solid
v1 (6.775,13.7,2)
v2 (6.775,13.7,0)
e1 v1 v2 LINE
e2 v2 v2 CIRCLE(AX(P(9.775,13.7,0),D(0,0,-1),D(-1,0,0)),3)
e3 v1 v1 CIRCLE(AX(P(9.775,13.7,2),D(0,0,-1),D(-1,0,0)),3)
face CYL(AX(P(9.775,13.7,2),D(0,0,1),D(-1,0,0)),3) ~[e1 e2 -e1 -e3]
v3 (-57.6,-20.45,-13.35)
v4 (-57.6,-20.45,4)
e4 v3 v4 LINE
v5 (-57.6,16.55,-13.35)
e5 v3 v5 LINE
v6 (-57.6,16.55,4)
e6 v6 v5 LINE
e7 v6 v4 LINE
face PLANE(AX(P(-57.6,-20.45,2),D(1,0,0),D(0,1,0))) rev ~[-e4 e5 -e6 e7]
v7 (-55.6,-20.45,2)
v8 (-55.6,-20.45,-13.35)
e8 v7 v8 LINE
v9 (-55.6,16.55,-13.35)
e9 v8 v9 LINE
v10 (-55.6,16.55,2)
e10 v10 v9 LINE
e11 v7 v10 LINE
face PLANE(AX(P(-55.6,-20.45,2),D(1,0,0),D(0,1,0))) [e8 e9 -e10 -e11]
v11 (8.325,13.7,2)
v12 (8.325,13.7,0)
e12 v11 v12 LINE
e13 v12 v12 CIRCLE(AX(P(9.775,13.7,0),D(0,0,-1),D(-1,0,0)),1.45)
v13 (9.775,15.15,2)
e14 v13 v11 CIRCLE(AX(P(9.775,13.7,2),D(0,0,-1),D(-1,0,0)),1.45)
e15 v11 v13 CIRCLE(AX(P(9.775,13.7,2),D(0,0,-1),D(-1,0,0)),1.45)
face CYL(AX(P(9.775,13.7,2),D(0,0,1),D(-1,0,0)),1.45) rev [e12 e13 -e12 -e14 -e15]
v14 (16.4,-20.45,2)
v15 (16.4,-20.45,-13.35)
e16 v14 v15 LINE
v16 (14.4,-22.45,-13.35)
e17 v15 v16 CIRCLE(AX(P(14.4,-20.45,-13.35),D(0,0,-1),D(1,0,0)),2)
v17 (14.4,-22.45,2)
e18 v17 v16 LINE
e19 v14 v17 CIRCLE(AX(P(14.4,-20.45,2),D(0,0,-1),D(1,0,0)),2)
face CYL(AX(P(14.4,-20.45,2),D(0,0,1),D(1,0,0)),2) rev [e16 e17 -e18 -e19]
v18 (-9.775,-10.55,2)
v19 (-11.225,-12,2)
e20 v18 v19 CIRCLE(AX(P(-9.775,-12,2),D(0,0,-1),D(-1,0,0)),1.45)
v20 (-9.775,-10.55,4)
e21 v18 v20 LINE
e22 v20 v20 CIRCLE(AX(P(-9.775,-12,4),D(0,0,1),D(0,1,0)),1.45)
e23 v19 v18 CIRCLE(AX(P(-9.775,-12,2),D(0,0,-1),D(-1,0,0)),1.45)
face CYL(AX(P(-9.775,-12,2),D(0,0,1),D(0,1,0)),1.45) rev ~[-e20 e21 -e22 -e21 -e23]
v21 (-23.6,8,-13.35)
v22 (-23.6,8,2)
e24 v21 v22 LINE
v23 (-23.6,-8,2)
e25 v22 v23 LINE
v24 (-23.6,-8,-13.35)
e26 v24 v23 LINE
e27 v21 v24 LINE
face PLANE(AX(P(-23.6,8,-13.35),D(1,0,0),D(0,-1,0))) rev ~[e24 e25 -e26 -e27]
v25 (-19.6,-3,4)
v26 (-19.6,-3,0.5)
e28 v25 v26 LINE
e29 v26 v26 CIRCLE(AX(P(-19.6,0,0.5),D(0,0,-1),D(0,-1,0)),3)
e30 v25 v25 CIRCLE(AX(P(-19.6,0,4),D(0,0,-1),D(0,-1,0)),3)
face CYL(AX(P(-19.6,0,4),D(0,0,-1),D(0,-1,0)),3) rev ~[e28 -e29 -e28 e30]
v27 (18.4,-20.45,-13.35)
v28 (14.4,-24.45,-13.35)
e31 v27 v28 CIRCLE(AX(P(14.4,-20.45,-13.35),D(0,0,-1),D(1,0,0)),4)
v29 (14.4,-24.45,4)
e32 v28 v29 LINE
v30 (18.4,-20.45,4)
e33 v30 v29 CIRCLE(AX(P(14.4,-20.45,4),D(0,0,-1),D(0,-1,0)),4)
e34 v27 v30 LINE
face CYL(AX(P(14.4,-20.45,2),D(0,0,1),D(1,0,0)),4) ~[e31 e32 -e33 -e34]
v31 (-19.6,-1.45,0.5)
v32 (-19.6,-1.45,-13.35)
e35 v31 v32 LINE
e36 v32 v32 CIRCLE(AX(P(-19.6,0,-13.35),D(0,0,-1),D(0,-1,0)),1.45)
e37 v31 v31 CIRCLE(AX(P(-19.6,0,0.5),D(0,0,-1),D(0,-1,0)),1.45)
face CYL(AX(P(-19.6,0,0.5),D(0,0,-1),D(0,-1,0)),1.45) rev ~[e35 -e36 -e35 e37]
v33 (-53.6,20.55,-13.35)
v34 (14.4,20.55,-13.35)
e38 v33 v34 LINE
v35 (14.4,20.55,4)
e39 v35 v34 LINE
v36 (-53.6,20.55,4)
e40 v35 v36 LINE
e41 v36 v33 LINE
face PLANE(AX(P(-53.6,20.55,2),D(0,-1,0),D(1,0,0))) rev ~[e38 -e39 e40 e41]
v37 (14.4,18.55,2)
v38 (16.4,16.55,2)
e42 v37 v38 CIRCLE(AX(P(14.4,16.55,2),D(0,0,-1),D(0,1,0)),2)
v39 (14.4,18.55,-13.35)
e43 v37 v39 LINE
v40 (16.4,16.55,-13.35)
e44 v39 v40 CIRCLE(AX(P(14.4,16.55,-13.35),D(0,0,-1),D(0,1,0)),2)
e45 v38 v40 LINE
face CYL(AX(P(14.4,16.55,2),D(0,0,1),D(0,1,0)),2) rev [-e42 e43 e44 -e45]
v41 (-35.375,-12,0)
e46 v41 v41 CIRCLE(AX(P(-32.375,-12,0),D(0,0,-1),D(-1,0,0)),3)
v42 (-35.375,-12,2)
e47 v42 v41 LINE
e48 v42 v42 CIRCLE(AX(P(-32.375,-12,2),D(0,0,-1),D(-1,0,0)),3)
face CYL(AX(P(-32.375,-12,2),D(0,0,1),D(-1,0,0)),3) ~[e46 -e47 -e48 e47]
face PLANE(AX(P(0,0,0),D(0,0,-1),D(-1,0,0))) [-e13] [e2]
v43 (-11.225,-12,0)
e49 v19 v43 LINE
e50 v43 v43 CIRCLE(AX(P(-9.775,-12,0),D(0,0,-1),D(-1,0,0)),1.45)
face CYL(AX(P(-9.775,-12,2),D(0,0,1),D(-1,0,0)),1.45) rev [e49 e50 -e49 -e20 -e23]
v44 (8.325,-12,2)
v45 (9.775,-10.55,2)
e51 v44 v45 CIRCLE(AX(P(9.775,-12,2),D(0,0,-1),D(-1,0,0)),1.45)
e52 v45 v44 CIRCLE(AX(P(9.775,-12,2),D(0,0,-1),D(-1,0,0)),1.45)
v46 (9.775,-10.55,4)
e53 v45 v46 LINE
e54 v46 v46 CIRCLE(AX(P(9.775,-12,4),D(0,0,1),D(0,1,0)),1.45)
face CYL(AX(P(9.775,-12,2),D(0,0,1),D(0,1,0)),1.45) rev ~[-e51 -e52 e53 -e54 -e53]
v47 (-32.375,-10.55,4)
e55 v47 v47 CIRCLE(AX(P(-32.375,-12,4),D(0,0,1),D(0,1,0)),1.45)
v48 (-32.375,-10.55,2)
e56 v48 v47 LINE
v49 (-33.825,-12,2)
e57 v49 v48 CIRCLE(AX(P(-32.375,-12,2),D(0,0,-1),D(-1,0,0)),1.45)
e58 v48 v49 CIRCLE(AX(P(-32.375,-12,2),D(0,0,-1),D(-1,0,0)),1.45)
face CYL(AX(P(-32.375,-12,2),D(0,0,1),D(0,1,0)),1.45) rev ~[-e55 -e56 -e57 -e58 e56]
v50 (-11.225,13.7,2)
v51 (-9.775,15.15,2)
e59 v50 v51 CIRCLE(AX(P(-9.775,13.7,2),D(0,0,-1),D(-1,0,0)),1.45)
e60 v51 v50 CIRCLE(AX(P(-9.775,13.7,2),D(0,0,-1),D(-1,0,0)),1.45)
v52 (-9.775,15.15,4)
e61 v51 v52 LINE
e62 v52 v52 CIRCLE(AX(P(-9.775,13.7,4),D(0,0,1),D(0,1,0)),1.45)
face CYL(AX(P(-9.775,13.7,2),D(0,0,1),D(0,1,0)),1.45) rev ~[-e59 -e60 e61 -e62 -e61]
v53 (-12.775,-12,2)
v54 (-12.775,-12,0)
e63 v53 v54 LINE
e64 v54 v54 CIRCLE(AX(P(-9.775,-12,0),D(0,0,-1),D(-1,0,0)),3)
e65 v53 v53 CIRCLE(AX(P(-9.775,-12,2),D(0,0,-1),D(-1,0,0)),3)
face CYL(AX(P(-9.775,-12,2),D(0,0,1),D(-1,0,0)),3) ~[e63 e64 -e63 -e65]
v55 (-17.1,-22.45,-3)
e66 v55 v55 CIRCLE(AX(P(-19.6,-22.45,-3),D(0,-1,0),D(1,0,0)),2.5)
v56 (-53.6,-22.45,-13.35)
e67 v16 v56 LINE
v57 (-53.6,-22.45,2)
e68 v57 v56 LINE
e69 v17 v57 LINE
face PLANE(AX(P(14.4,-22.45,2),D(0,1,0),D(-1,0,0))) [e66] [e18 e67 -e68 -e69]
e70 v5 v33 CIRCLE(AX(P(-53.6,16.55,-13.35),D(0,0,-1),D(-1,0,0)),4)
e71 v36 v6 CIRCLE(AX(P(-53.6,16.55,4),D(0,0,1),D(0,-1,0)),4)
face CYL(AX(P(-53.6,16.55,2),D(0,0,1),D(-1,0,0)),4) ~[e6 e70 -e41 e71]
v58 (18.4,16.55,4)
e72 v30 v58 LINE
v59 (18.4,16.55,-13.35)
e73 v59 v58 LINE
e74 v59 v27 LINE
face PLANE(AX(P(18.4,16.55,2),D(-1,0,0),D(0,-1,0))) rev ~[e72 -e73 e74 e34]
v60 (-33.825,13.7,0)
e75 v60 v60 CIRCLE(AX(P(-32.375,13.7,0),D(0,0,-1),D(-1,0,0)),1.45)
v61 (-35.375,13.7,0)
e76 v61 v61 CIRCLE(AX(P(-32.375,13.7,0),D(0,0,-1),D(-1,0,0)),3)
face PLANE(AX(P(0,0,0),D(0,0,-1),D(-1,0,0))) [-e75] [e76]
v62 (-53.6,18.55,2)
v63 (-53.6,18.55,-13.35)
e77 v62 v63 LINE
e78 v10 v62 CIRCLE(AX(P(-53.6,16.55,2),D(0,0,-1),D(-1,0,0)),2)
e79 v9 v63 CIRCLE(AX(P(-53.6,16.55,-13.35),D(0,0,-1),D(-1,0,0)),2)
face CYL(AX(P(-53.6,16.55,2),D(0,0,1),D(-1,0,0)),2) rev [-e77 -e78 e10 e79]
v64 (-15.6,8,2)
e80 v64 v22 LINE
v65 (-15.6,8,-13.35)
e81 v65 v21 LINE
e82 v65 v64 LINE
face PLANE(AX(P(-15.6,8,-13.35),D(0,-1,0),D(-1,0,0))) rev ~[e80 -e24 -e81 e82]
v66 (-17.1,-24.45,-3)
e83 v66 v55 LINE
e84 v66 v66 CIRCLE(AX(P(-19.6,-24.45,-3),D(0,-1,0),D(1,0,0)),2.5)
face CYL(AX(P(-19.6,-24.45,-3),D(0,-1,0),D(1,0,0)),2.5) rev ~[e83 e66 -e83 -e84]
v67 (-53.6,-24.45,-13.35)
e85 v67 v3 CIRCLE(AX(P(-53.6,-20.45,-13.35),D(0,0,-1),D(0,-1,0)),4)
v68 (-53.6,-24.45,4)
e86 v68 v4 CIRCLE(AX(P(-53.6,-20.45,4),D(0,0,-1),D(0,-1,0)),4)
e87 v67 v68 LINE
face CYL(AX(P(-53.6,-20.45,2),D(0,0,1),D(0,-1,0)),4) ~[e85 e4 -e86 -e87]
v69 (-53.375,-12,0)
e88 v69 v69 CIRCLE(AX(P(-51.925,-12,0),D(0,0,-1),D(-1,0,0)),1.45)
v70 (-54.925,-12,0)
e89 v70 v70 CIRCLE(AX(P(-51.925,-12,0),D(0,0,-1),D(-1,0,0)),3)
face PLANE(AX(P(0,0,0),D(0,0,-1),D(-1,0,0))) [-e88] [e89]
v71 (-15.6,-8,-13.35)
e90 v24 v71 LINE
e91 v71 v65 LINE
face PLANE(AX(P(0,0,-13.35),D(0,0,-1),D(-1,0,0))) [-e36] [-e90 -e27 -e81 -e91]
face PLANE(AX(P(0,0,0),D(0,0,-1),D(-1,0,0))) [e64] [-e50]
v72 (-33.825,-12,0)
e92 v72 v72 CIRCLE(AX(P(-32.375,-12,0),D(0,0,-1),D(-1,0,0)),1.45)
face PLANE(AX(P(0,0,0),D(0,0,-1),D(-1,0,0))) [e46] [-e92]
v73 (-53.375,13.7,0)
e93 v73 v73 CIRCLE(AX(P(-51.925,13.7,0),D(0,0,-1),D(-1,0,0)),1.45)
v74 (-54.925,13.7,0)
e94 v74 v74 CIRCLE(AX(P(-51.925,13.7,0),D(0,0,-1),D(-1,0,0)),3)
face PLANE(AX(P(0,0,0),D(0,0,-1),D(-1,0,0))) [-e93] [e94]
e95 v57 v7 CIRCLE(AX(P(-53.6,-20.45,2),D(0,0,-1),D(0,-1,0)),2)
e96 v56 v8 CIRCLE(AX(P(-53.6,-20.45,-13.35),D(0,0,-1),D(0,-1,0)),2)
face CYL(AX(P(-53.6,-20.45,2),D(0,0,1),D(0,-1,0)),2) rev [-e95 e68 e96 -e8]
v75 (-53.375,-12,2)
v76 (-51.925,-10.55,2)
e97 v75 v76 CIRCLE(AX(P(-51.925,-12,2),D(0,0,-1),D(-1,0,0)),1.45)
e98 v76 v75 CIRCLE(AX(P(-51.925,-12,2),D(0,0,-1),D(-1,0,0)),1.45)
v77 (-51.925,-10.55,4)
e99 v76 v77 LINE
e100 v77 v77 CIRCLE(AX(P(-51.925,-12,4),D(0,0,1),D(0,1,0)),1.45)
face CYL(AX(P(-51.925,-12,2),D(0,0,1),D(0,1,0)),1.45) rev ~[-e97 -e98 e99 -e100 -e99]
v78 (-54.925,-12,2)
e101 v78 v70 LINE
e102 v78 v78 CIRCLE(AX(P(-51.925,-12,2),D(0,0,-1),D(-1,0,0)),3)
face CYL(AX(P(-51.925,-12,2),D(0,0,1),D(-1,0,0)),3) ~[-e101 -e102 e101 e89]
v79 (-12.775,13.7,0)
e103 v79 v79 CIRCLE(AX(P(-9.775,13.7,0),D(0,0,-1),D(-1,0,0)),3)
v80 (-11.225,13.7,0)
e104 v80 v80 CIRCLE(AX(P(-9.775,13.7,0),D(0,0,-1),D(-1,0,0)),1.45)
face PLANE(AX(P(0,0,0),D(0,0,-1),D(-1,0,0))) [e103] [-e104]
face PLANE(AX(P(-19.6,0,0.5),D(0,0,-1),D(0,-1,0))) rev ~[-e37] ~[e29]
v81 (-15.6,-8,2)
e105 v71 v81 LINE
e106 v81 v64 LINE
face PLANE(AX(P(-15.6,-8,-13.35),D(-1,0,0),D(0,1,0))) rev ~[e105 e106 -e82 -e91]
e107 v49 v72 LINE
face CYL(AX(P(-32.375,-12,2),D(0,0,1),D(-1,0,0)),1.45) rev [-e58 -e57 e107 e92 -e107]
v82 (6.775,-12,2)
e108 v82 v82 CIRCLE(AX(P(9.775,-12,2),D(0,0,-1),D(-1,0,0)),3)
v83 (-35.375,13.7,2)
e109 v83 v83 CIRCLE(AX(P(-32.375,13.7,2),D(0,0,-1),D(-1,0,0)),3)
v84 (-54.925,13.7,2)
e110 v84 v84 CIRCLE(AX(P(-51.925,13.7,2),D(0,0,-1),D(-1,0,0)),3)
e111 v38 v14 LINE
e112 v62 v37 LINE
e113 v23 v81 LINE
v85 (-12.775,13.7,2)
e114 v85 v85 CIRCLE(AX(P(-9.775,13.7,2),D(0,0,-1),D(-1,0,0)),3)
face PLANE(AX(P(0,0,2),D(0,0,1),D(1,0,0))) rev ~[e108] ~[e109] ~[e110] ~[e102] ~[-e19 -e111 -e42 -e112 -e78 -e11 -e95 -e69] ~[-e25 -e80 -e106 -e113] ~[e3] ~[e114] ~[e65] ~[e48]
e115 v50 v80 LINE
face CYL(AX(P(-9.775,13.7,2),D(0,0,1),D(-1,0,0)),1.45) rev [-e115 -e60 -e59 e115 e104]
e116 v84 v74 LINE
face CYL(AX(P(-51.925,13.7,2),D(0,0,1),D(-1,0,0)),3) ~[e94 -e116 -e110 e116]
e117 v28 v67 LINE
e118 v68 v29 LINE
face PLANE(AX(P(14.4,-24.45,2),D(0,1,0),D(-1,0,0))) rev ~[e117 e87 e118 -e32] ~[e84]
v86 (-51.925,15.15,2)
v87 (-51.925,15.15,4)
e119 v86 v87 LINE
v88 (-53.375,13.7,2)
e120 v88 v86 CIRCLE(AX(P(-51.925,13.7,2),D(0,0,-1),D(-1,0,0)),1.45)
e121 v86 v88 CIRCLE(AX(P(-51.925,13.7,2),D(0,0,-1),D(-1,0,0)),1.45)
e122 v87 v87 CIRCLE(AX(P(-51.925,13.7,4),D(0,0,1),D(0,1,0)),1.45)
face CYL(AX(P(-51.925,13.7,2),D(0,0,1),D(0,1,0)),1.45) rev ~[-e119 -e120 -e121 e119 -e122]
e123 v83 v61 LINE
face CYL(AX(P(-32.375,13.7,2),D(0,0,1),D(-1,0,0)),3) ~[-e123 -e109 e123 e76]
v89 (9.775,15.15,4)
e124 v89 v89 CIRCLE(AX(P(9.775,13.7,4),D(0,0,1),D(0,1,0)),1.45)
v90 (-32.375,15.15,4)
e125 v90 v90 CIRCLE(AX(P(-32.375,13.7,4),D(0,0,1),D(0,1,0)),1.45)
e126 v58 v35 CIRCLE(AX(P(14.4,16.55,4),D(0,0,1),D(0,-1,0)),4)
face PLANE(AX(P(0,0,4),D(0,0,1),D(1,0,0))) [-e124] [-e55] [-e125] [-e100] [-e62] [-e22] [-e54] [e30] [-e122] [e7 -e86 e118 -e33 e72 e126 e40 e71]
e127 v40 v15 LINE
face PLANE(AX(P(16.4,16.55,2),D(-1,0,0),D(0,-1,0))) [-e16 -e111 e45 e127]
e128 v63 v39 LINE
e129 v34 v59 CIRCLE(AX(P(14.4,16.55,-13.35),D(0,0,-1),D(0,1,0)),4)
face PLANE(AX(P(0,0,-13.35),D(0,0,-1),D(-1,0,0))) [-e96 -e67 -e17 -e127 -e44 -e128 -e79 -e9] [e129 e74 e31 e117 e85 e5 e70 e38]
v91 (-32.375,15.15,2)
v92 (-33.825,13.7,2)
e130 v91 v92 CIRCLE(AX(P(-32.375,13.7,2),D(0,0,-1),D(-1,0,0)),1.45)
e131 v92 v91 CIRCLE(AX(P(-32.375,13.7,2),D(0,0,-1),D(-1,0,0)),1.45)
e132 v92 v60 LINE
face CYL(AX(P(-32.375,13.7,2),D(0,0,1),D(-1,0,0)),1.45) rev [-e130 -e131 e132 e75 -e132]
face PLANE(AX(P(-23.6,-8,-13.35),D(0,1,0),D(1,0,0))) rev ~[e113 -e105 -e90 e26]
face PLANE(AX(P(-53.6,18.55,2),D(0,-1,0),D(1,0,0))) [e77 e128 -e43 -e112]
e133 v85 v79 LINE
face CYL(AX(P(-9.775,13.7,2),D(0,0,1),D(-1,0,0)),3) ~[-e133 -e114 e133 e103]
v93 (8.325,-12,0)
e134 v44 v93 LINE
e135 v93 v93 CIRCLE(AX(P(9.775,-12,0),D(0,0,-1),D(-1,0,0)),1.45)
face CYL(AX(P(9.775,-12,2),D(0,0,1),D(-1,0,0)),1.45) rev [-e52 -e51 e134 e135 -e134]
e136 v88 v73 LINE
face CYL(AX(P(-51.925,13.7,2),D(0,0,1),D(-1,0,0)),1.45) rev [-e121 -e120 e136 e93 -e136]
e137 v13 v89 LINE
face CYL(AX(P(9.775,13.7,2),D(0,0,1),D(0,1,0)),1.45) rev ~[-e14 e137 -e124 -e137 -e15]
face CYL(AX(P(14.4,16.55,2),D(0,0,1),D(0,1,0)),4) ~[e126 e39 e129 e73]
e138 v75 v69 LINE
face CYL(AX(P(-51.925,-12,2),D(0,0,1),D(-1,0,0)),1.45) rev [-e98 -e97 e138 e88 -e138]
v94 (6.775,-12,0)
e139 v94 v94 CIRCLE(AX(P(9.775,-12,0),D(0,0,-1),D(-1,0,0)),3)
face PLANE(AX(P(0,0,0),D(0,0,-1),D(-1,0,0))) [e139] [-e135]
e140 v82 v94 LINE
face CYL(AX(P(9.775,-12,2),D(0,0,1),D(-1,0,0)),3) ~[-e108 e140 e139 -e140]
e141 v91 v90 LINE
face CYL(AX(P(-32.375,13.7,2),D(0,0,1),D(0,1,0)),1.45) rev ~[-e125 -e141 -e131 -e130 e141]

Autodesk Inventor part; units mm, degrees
ref_plane "YZ Plane" through (0, 0, 0) normal (1, 0, 0) x (0, 1, 0)
ref_plane "XZ Plane" through (0, 0, 0) normal (0, 1, 0) x (-1, 0, 0)
ref_plane "Work Plane1" through (0, 0, 0) normal (0, 0, 1) x (1, 0, 0)
ref_plane "Work Plane2" through (0, 0, 2) normal (0, 0, 1) x (1, 0, 0)
sketch "Sketch1" plane through (0, 0, 2) normal (0, 0, 1) x (1, 0, 0)
  circle A0 centre (9.775, 13.7) radius 1.45 construction
  circle A1 centre (-9.775, 13.7) radius 1.45 construction
  circle A2 centre (9.775, -12) radius 1.45 construction
  circle A3 centre (-9.775, -12) radius 1.45 construction
  line L0 (-13.075, -17) -> (13.075, -17) construction
  line L1 (13.075, -17) -> (13.075, 17) construction
  line L2 (13.075, 17) -> (-13.075, 17) construction
  line L3 (-13.075, 17) -> (-13.075, -17) construction
  circle A4 centre (-32.375, 13.7) radius 1.45 construction
  circle A5 centre (-51.925, 13.7) radius 1.45 construction
  circle A6 centre (-32.375, -12) radius 1.45 construction
  circle A7 centre (-51.925, -12) radius 1.45 construction
  line L4 (-55.225, -17) -> (-29.075, -17) construction
  line L5 (-29.075, -17) -> (-29.075, 17) construction
  line L6 (-29.075, 17) -> (-55.225, 17) construction
  line L7 (-55.225, 17) -> (-55.225, -17) construction
  line L8 (18.4, -24.45) -> (-57.6, -24.45) construction
  line L9 (-57.6, -24.45) -> (-57.6, 20.55) construction
  line L10 (-57.6, 20.55) -> (18.4, 20.55) construction
  line L11 (18.4, 20.55) -> (18.4, -24.45) construction
  line L12 (18.4, -24.45) -> (-57.6, 20.55) construction
  line L13 (-57.6, -24.45) -> (18.4, 20.55) construction
  line L14 (18.4, 20.55) -> (-57.6, 20.55)
  line L15 (-57.6, 20.55) -> (-57.6, -24.45)
  line L16 (-57.6, -24.45) -> (18.4, -24.45)
  line L17 (18.4, -24.45) -> (18.4, 20.55)
  circle A8 centre (1.475, 0.05) radius 3.625 projected
  circle A9 centre (-40.675, 0.05) radius 3.625 projected
  point P0 (0, 0)
  point P1 (-19.6, -1.95)
  dimension "d0" = 76
  dimension "d1" = 45
  dimension "d2" = 42.15
  dimension "d3" = 21.075
  dimension "d24" = 2
extrude "Extrusion1" add sketch "Sketch1" along normal blind 2 contours L17 L16 L15 L14 | A8 | A9
sketch "Sketch2" plane through (0, 0, 2) normal (0, 0, -1) x (-1, 0, 0)
  line L0 (48.625, -15.2642) -> (36.125, -15.2642) projected
  line L1 (36.125, -15.2642) -> (36.125, -13.7335) projected
  line L2 (36.125, -13.7335) -> (48.625, -13.7335) projected
  line L3 (48.625, -13.7335) -> (48.625, -15.2642) projected
  line L4 (55.225, -17) -> (29.075, -17) projected
  line L5 (55.225, 17) -> (55.225, -17) projected
  line L6 (29.075, 17) -> (55.225, 17) projected
  line L7 (29.075, -17) -> (29.075, 17) projected
  circle A0 centre (51.925, -12) radius 1.45 projected
  circle A1 centre (32.375, -12) radius 1.45 projected
  circle A2 centre (51.925, 13.7) radius 1.45 projected
  circle A3 centre (32.375, 13.7) radius 1.45 projected
  line L8 (48.025, 8.1) -> (33.325, 8.1) projected
  arc A4 (48.725, 7.4) -> (48.025, 8.1) centre (48.025, 7.4) ccw projected
  line L9 (48.725, 3.55) -> (48.725, 7.4) projected
  line L10 (47.725, 3.55) -> (48.725, 3.55) projected
  line L11 (47.725, -3.45) -> (47.725, 3.55) projected
  line L12 (47.725, -3.45) -> (48.725, -3.45) projected
  line L13 (48.725, -7.3) -> (48.725, -3.45) projected
  arc A5 (48.025, -8) -> (48.725, -7.3) centre (48.025, -7.3) ccw projected
  line L14 (33.325, -8) -> (48.025, -8) projected
  arc A6 (32.625, -7.3) -> (33.325, -8) centre (33.325, -7.3) ccw projected
  line L15 (32.625, 7.4) -> (32.625, -7.3) projected
  arc A7 (33.325, 8.1) -> (32.625, 7.4) centre (33.325, 7.4) ccw projected
  circle A8 centre (51.925, 13.7) radius 3
  circle A9 centre (51.925, -12) radius 3
  circle A10 centre (32.375, -12) radius 3
  circle A11 centre (32.375, 13.7) radius 3
  line L16 (6.475, -15.2642) -> (-6.025, -15.2642) projected
  line L17 (-6.025, -15.2642) -> (-6.025, -13.7335) projected
  line L18 (-6.025, -13.7335) -> (6.475, -13.7335) projected
  line L19 (6.475, -13.7335) -> (6.475, -15.2642) projected
  line L20 (13.075, -17) -> (-13.075, -17) projected
  line L21 (13.075, 17) -> (13.075, -17) projected
  line L22 (-13.075, 17) -> (13.075, 17) projected
  line L23 (-13.075, -17) -> (-13.075, 17) projected
  circle A12 centre (9.775, -12) radius 1.45 projected
  circle A13 centre (-9.775, -12) radius 1.45 projected
  circle A14 centre (9.775, 13.7) radius 1.45 projected
  circle A15 centre (-9.775, 13.7) radius 1.45 projected
  line L24 (5.875, 8.1) -> (-8.825, 8.1) projected
  arc A16 (6.575, 7.4) -> (5.875, 8.1) centre (5.875, 7.4) ccw projected
  line L25 (6.575, 3.55) -> (6.575, 7.4) projected
  line L26 (5.575, 3.55) -> (6.575, 3.55) projected
  line L27 (5.575, -3.45) -> (5.575, 3.55) projected
  line L28 (5.575, -3.45) -> (6.575, -3.45) projected
  line L29 (6.575, -7.3) -> (6.575, -3.45) projected
  arc A17 (5.875, -8) -> (6.575, -7.3) centre (5.875, -7.3) ccw projected
  line L30 (-8.825, -8) -> (5.875, -8) projected
  arc A18 (-9.525, -7.3) -> (-8.825, -8) centre (-8.825, -7.3) ccw projected
  line L31 (-9.525, 7.4) -> (-9.525, -7.3) projected
  arc A19 (-8.825, 8.1) -> (-9.525, 7.4) centre (-8.825, 7.4) ccw projected
  circle A20 centre (9.775, 13.7) radius 3
  circle A21 centre (9.775, -12) radius 3
  circle A22 centre (-9.775, -12) radius 3
  circle A23 centre (-9.775, 13.7) radius 3
  point P0 (0, 0)
  dimension "d6" = 6
  dimension "d7" = 6
  dimension "d8" = 6
  dimension "d9" = 6
  dimension "d10" = 6
  dimension "d11" = 6
  dimension "d12" = 6
  dimension "d13" = 6
extrude "Extrusion2" add sketch "Sketch2" along normal blind 2 contours A8 | A9 | A10 | A11 | A20 | A21 | A22 | A23
fillet "Fillet1" radius 4 4 edges at (18.4, 20.55, 3) (18.4, -24.45, 3) (-57.6, -24.45, 3) (-57.6, 20.55, 3)
sketch "Sketch3" plane through (0, 0, 2) normal (0, 0, -1) x (-1, 0, 0)
  circle A0 centre (-9.775, -12) radius 3 projected
  circle A1 centre (9.775, 13.7) radius 3 projected
  circle A2 centre (32.375, -12) radius 3 projected
  circle A3 centre (51.925, 13.7) radius 3 projected
  circle A4 centre (51.925, -12) radius 3 projected
  circle A5 centre (32.375, 13.7) radius 3 projected
  circle A6 centre (9.775, -12) radius 3 projected
  circle A7 centre (-9.775, 13.7) radius 3 projected
  arc A8 (57.6, 16.55) -> (53.6, 20.55) centre (53.6, 16.55) ccw projected
  line L0 (53.6, 20.55) -> (-14.4, 20.55) projected
  arc A9 (-14.4, 20.55) -> (-18.4, 16.55) centre (-14.4, 16.55) ccw projected
  line L1 (-18.4, 16.55) -> (-18.4, -20.45) projected
  arc A10 (-18.4, -20.45) -> (-14.4, -24.45) centre (-14.4, -20.45) ccw projected
  line L2 (-14.4, -24.45) -> (53.6, -24.45) projected
  arc A11 (53.6, -24.45) -> (57.6, -20.45) centre (53.6, -20.45) ccw projected
  line L3 (57.6, -20.45) -> (57.6, 16.55) projected
  point P0 (0, 0)
hole "Hole1" at (-51.925, 13.7, 2) at (-51.925, -12, 2) at (-32.375, -12, 2) at (-32.375, 13.7, 2) at (-9.775, 13.7, 2) at (9.775, 13.7, 2) at (-9.775, -12, 2) at (9.775, -12, 2) direction (0, 0, 1) diameter 2.9 end through all
ref_plane "Work Plane3" through (-11.0937, -12.5187, -13.35) normal (0, 0, 1) x (1, 0, 0)
sketch "Sketch4" plane through (0, 0, 2) normal (0, 0, -1) x (-1, 0, 0)
  circle A0 centre (-9.775, -12) radius 3 projected
  circle A1 centre (9.775, 13.7) radius 3 projected
  circle A2 centre (32.375, -12) radius 3 projected
  circle A3 centre (51.925, 13.7) radius 3 projected
  circle A4 centre (51.925, -12) radius 3 projected
  circle A5 centre (32.375, 13.7) radius 3 projected
  circle A6 centre (9.775, -12) radius 3 projected
  circle A7 centre (-9.775, 13.7) radius 3 projected
  arc A8 (57.6, 16.55) -> (53.6, 20.55) centre (53.6, 16.55) ccw projected
  line L0 (53.6, 20.55) -> (-14.4, 20.55) projected
  arc A9 (-14.4, 20.55) -> (-18.4, 16.55) centre (-14.4, 16.55) ccw projected
  line L1 (-18.4, 16.55) -> (-18.4, -20.45) projected
  arc A10 (-18.4, -20.45) -> (-14.4, -24.45) centre (-14.4, -20.45) ccw projected
  line L2 (-14.4, -24.45) -> (53.6, -24.45) projected
  arc A11 (53.6, -24.45) -> (57.6, -20.45) centre (53.6, -20.45) ccw projected
  line L3 (57.6, -20.45) -> (57.6, 16.55) projected
  arc A12 (55.6, 16.55) -> (53.6, 18.55) centre (53.6, 16.55) ccw
  line L4 (53.6, 18.55) -> (-14.4, 18.55)
  arc A13 (-14.4, 18.55) -> (-16.4, 16.55) centre (-14.4, 16.55) ccw
  line L5 (-16.4, 16.55) -> (-16.4, -20.45)
  arc A14 (-16.4, -20.45) -> (-14.4, -22.45) centre (-14.4, -20.45) ccw
  line L6 (-14.4, -22.45) -> (53.6, -22.45)
  arc A15 (53.6, -22.45) -> (55.6, -20.45) centre (53.6, -20.45) ccw
  line L7 (55.6, -20.45) -> (55.6, 16.55)
  point P0 (0, 0)
  dimension "d25" = 2
extrude "Extrusion3" add sketch "Sketch4" along normal up to surface (15.35 mm away) contours L3 A11 L2 A10 L1 A9 L0 A8
sketch "Sketch5" plane through (-53.6, -24.45, 4) normal (0, -1, 0) x (1, 0, 0)
  line L0 (0, -17.35) -> (0, 0) projected
  line L1 (68, 0) -> (68, -17.35) projected
  line L2 (0, 0) -> (68, 0) projected
  circle A0 centre (34, -7) radius 2.5
  line L3 (68, -17.35) -> (0, -17.35) projected
  point P0 (53.6, -4)
  dimension "d28" = 5
extrude "Extrusion4" cut sketch "Sketch5" against normal blind 12 contours A0
sketch "Sketch6" plane through (0, 0, -13.35) normal (0, 0, -1) x (-1, 0, 0)
  line L0 (55.6, 16.55) -> (55.6, -20.45) projected
  arc A0 (53.6, -22.45) -> (55.6, -20.45) centre (53.6, -20.45) ccw projected
  line L1 (53.6, -22.45) -> (-14.4, -22.45) projected
  arc A1 (-16.4, -20.45) -> (-14.4, -22.45) centre (-14.4, -20.45) ccw projected
  line L2 (-16.4, -20.45) -> (-16.4, 16.55) projected
  arc A2 (-14.4, 18.55) -> (-16.4, 16.55) centre (-14.4, 16.55) ccw projected
  line L3 (-14.4, 18.55) -> (53.6, 18.55) projected
  arc A3 (55.6, 16.55) -> (53.6, 18.55) centre (53.6, 16.55) ccw projected
  arc A4 (57.6, 16.55) -> (53.6, 20.55) centre (53.6, 16.55) ccw projected
  line L4 (53.6, 20.55) -> (-14.4, 20.55) projected
  arc A5 (-14.4, 20.55) -> (-18.4, 16.55) centre (-14.4, 16.55) ccw projected
  line L5 (-18.4, 16.55) -> (-18.4, -20.45) projected
  arc A6 (-18.4, -20.45) -> (-14.4, -24.45) centre (-14.4, -20.45) ccw projected
  line L6 (-14.4, -24.45) -> (53.6, -24.45) projected
  arc A7 (53.6, -24.45) -> (57.6, -20.45) centre (53.6, -20.45) ccw projected
  line L7 (57.6, -20.45) -> (57.6, 16.55) projected
  line L8 (15.6, 8) -> (23.6, 8)
  line L9 (23.6, 8) -> (23.6, -8)
  line L10 (23.6, -8) -> (15.6, -8)
  line L11 (15.6, -8) -> (15.6, 8)
  line L12 (15.6, 8) -> (23.6, -8) construction
  line L13 (23.6, 8) -> (15.6, -8) construction
  point P0 (0, 0)
  point P1 (19.6, 0)
  dimension "d31" = 8
  dimension "d32" = 16
extrude "Extrusion5" add sketch "Sketch6" against normal up to next contours L8 L9 L10 L11
sketch "Sketch7" plane through (0, 0, 4) normal (0, 0, 1) x (1, 0, 0)
  line L0 (-15.6, 8) -> (-23.6, 8) projected
  line L1 (-15.6, -8) -> (-15.6, 8) projected
  line L2 (-23.6, -8) -> (-15.6, -8) projected
  line L3 (-23.6, 8) -> (-23.6, -8) projected
  circle A0 centre (-19.6, 0) radius 1.5839
  point P0 (0, 0)
hole "Hole2" at (-19.6, 0, 4) direction (0, 0, -1) diameter 2.9 end through all counterbore diameter 6 counterbore depth 3.5
equation "\"d3\" = 0.5 * d2"
properties part number "40_Joystick_PS2_Base"
